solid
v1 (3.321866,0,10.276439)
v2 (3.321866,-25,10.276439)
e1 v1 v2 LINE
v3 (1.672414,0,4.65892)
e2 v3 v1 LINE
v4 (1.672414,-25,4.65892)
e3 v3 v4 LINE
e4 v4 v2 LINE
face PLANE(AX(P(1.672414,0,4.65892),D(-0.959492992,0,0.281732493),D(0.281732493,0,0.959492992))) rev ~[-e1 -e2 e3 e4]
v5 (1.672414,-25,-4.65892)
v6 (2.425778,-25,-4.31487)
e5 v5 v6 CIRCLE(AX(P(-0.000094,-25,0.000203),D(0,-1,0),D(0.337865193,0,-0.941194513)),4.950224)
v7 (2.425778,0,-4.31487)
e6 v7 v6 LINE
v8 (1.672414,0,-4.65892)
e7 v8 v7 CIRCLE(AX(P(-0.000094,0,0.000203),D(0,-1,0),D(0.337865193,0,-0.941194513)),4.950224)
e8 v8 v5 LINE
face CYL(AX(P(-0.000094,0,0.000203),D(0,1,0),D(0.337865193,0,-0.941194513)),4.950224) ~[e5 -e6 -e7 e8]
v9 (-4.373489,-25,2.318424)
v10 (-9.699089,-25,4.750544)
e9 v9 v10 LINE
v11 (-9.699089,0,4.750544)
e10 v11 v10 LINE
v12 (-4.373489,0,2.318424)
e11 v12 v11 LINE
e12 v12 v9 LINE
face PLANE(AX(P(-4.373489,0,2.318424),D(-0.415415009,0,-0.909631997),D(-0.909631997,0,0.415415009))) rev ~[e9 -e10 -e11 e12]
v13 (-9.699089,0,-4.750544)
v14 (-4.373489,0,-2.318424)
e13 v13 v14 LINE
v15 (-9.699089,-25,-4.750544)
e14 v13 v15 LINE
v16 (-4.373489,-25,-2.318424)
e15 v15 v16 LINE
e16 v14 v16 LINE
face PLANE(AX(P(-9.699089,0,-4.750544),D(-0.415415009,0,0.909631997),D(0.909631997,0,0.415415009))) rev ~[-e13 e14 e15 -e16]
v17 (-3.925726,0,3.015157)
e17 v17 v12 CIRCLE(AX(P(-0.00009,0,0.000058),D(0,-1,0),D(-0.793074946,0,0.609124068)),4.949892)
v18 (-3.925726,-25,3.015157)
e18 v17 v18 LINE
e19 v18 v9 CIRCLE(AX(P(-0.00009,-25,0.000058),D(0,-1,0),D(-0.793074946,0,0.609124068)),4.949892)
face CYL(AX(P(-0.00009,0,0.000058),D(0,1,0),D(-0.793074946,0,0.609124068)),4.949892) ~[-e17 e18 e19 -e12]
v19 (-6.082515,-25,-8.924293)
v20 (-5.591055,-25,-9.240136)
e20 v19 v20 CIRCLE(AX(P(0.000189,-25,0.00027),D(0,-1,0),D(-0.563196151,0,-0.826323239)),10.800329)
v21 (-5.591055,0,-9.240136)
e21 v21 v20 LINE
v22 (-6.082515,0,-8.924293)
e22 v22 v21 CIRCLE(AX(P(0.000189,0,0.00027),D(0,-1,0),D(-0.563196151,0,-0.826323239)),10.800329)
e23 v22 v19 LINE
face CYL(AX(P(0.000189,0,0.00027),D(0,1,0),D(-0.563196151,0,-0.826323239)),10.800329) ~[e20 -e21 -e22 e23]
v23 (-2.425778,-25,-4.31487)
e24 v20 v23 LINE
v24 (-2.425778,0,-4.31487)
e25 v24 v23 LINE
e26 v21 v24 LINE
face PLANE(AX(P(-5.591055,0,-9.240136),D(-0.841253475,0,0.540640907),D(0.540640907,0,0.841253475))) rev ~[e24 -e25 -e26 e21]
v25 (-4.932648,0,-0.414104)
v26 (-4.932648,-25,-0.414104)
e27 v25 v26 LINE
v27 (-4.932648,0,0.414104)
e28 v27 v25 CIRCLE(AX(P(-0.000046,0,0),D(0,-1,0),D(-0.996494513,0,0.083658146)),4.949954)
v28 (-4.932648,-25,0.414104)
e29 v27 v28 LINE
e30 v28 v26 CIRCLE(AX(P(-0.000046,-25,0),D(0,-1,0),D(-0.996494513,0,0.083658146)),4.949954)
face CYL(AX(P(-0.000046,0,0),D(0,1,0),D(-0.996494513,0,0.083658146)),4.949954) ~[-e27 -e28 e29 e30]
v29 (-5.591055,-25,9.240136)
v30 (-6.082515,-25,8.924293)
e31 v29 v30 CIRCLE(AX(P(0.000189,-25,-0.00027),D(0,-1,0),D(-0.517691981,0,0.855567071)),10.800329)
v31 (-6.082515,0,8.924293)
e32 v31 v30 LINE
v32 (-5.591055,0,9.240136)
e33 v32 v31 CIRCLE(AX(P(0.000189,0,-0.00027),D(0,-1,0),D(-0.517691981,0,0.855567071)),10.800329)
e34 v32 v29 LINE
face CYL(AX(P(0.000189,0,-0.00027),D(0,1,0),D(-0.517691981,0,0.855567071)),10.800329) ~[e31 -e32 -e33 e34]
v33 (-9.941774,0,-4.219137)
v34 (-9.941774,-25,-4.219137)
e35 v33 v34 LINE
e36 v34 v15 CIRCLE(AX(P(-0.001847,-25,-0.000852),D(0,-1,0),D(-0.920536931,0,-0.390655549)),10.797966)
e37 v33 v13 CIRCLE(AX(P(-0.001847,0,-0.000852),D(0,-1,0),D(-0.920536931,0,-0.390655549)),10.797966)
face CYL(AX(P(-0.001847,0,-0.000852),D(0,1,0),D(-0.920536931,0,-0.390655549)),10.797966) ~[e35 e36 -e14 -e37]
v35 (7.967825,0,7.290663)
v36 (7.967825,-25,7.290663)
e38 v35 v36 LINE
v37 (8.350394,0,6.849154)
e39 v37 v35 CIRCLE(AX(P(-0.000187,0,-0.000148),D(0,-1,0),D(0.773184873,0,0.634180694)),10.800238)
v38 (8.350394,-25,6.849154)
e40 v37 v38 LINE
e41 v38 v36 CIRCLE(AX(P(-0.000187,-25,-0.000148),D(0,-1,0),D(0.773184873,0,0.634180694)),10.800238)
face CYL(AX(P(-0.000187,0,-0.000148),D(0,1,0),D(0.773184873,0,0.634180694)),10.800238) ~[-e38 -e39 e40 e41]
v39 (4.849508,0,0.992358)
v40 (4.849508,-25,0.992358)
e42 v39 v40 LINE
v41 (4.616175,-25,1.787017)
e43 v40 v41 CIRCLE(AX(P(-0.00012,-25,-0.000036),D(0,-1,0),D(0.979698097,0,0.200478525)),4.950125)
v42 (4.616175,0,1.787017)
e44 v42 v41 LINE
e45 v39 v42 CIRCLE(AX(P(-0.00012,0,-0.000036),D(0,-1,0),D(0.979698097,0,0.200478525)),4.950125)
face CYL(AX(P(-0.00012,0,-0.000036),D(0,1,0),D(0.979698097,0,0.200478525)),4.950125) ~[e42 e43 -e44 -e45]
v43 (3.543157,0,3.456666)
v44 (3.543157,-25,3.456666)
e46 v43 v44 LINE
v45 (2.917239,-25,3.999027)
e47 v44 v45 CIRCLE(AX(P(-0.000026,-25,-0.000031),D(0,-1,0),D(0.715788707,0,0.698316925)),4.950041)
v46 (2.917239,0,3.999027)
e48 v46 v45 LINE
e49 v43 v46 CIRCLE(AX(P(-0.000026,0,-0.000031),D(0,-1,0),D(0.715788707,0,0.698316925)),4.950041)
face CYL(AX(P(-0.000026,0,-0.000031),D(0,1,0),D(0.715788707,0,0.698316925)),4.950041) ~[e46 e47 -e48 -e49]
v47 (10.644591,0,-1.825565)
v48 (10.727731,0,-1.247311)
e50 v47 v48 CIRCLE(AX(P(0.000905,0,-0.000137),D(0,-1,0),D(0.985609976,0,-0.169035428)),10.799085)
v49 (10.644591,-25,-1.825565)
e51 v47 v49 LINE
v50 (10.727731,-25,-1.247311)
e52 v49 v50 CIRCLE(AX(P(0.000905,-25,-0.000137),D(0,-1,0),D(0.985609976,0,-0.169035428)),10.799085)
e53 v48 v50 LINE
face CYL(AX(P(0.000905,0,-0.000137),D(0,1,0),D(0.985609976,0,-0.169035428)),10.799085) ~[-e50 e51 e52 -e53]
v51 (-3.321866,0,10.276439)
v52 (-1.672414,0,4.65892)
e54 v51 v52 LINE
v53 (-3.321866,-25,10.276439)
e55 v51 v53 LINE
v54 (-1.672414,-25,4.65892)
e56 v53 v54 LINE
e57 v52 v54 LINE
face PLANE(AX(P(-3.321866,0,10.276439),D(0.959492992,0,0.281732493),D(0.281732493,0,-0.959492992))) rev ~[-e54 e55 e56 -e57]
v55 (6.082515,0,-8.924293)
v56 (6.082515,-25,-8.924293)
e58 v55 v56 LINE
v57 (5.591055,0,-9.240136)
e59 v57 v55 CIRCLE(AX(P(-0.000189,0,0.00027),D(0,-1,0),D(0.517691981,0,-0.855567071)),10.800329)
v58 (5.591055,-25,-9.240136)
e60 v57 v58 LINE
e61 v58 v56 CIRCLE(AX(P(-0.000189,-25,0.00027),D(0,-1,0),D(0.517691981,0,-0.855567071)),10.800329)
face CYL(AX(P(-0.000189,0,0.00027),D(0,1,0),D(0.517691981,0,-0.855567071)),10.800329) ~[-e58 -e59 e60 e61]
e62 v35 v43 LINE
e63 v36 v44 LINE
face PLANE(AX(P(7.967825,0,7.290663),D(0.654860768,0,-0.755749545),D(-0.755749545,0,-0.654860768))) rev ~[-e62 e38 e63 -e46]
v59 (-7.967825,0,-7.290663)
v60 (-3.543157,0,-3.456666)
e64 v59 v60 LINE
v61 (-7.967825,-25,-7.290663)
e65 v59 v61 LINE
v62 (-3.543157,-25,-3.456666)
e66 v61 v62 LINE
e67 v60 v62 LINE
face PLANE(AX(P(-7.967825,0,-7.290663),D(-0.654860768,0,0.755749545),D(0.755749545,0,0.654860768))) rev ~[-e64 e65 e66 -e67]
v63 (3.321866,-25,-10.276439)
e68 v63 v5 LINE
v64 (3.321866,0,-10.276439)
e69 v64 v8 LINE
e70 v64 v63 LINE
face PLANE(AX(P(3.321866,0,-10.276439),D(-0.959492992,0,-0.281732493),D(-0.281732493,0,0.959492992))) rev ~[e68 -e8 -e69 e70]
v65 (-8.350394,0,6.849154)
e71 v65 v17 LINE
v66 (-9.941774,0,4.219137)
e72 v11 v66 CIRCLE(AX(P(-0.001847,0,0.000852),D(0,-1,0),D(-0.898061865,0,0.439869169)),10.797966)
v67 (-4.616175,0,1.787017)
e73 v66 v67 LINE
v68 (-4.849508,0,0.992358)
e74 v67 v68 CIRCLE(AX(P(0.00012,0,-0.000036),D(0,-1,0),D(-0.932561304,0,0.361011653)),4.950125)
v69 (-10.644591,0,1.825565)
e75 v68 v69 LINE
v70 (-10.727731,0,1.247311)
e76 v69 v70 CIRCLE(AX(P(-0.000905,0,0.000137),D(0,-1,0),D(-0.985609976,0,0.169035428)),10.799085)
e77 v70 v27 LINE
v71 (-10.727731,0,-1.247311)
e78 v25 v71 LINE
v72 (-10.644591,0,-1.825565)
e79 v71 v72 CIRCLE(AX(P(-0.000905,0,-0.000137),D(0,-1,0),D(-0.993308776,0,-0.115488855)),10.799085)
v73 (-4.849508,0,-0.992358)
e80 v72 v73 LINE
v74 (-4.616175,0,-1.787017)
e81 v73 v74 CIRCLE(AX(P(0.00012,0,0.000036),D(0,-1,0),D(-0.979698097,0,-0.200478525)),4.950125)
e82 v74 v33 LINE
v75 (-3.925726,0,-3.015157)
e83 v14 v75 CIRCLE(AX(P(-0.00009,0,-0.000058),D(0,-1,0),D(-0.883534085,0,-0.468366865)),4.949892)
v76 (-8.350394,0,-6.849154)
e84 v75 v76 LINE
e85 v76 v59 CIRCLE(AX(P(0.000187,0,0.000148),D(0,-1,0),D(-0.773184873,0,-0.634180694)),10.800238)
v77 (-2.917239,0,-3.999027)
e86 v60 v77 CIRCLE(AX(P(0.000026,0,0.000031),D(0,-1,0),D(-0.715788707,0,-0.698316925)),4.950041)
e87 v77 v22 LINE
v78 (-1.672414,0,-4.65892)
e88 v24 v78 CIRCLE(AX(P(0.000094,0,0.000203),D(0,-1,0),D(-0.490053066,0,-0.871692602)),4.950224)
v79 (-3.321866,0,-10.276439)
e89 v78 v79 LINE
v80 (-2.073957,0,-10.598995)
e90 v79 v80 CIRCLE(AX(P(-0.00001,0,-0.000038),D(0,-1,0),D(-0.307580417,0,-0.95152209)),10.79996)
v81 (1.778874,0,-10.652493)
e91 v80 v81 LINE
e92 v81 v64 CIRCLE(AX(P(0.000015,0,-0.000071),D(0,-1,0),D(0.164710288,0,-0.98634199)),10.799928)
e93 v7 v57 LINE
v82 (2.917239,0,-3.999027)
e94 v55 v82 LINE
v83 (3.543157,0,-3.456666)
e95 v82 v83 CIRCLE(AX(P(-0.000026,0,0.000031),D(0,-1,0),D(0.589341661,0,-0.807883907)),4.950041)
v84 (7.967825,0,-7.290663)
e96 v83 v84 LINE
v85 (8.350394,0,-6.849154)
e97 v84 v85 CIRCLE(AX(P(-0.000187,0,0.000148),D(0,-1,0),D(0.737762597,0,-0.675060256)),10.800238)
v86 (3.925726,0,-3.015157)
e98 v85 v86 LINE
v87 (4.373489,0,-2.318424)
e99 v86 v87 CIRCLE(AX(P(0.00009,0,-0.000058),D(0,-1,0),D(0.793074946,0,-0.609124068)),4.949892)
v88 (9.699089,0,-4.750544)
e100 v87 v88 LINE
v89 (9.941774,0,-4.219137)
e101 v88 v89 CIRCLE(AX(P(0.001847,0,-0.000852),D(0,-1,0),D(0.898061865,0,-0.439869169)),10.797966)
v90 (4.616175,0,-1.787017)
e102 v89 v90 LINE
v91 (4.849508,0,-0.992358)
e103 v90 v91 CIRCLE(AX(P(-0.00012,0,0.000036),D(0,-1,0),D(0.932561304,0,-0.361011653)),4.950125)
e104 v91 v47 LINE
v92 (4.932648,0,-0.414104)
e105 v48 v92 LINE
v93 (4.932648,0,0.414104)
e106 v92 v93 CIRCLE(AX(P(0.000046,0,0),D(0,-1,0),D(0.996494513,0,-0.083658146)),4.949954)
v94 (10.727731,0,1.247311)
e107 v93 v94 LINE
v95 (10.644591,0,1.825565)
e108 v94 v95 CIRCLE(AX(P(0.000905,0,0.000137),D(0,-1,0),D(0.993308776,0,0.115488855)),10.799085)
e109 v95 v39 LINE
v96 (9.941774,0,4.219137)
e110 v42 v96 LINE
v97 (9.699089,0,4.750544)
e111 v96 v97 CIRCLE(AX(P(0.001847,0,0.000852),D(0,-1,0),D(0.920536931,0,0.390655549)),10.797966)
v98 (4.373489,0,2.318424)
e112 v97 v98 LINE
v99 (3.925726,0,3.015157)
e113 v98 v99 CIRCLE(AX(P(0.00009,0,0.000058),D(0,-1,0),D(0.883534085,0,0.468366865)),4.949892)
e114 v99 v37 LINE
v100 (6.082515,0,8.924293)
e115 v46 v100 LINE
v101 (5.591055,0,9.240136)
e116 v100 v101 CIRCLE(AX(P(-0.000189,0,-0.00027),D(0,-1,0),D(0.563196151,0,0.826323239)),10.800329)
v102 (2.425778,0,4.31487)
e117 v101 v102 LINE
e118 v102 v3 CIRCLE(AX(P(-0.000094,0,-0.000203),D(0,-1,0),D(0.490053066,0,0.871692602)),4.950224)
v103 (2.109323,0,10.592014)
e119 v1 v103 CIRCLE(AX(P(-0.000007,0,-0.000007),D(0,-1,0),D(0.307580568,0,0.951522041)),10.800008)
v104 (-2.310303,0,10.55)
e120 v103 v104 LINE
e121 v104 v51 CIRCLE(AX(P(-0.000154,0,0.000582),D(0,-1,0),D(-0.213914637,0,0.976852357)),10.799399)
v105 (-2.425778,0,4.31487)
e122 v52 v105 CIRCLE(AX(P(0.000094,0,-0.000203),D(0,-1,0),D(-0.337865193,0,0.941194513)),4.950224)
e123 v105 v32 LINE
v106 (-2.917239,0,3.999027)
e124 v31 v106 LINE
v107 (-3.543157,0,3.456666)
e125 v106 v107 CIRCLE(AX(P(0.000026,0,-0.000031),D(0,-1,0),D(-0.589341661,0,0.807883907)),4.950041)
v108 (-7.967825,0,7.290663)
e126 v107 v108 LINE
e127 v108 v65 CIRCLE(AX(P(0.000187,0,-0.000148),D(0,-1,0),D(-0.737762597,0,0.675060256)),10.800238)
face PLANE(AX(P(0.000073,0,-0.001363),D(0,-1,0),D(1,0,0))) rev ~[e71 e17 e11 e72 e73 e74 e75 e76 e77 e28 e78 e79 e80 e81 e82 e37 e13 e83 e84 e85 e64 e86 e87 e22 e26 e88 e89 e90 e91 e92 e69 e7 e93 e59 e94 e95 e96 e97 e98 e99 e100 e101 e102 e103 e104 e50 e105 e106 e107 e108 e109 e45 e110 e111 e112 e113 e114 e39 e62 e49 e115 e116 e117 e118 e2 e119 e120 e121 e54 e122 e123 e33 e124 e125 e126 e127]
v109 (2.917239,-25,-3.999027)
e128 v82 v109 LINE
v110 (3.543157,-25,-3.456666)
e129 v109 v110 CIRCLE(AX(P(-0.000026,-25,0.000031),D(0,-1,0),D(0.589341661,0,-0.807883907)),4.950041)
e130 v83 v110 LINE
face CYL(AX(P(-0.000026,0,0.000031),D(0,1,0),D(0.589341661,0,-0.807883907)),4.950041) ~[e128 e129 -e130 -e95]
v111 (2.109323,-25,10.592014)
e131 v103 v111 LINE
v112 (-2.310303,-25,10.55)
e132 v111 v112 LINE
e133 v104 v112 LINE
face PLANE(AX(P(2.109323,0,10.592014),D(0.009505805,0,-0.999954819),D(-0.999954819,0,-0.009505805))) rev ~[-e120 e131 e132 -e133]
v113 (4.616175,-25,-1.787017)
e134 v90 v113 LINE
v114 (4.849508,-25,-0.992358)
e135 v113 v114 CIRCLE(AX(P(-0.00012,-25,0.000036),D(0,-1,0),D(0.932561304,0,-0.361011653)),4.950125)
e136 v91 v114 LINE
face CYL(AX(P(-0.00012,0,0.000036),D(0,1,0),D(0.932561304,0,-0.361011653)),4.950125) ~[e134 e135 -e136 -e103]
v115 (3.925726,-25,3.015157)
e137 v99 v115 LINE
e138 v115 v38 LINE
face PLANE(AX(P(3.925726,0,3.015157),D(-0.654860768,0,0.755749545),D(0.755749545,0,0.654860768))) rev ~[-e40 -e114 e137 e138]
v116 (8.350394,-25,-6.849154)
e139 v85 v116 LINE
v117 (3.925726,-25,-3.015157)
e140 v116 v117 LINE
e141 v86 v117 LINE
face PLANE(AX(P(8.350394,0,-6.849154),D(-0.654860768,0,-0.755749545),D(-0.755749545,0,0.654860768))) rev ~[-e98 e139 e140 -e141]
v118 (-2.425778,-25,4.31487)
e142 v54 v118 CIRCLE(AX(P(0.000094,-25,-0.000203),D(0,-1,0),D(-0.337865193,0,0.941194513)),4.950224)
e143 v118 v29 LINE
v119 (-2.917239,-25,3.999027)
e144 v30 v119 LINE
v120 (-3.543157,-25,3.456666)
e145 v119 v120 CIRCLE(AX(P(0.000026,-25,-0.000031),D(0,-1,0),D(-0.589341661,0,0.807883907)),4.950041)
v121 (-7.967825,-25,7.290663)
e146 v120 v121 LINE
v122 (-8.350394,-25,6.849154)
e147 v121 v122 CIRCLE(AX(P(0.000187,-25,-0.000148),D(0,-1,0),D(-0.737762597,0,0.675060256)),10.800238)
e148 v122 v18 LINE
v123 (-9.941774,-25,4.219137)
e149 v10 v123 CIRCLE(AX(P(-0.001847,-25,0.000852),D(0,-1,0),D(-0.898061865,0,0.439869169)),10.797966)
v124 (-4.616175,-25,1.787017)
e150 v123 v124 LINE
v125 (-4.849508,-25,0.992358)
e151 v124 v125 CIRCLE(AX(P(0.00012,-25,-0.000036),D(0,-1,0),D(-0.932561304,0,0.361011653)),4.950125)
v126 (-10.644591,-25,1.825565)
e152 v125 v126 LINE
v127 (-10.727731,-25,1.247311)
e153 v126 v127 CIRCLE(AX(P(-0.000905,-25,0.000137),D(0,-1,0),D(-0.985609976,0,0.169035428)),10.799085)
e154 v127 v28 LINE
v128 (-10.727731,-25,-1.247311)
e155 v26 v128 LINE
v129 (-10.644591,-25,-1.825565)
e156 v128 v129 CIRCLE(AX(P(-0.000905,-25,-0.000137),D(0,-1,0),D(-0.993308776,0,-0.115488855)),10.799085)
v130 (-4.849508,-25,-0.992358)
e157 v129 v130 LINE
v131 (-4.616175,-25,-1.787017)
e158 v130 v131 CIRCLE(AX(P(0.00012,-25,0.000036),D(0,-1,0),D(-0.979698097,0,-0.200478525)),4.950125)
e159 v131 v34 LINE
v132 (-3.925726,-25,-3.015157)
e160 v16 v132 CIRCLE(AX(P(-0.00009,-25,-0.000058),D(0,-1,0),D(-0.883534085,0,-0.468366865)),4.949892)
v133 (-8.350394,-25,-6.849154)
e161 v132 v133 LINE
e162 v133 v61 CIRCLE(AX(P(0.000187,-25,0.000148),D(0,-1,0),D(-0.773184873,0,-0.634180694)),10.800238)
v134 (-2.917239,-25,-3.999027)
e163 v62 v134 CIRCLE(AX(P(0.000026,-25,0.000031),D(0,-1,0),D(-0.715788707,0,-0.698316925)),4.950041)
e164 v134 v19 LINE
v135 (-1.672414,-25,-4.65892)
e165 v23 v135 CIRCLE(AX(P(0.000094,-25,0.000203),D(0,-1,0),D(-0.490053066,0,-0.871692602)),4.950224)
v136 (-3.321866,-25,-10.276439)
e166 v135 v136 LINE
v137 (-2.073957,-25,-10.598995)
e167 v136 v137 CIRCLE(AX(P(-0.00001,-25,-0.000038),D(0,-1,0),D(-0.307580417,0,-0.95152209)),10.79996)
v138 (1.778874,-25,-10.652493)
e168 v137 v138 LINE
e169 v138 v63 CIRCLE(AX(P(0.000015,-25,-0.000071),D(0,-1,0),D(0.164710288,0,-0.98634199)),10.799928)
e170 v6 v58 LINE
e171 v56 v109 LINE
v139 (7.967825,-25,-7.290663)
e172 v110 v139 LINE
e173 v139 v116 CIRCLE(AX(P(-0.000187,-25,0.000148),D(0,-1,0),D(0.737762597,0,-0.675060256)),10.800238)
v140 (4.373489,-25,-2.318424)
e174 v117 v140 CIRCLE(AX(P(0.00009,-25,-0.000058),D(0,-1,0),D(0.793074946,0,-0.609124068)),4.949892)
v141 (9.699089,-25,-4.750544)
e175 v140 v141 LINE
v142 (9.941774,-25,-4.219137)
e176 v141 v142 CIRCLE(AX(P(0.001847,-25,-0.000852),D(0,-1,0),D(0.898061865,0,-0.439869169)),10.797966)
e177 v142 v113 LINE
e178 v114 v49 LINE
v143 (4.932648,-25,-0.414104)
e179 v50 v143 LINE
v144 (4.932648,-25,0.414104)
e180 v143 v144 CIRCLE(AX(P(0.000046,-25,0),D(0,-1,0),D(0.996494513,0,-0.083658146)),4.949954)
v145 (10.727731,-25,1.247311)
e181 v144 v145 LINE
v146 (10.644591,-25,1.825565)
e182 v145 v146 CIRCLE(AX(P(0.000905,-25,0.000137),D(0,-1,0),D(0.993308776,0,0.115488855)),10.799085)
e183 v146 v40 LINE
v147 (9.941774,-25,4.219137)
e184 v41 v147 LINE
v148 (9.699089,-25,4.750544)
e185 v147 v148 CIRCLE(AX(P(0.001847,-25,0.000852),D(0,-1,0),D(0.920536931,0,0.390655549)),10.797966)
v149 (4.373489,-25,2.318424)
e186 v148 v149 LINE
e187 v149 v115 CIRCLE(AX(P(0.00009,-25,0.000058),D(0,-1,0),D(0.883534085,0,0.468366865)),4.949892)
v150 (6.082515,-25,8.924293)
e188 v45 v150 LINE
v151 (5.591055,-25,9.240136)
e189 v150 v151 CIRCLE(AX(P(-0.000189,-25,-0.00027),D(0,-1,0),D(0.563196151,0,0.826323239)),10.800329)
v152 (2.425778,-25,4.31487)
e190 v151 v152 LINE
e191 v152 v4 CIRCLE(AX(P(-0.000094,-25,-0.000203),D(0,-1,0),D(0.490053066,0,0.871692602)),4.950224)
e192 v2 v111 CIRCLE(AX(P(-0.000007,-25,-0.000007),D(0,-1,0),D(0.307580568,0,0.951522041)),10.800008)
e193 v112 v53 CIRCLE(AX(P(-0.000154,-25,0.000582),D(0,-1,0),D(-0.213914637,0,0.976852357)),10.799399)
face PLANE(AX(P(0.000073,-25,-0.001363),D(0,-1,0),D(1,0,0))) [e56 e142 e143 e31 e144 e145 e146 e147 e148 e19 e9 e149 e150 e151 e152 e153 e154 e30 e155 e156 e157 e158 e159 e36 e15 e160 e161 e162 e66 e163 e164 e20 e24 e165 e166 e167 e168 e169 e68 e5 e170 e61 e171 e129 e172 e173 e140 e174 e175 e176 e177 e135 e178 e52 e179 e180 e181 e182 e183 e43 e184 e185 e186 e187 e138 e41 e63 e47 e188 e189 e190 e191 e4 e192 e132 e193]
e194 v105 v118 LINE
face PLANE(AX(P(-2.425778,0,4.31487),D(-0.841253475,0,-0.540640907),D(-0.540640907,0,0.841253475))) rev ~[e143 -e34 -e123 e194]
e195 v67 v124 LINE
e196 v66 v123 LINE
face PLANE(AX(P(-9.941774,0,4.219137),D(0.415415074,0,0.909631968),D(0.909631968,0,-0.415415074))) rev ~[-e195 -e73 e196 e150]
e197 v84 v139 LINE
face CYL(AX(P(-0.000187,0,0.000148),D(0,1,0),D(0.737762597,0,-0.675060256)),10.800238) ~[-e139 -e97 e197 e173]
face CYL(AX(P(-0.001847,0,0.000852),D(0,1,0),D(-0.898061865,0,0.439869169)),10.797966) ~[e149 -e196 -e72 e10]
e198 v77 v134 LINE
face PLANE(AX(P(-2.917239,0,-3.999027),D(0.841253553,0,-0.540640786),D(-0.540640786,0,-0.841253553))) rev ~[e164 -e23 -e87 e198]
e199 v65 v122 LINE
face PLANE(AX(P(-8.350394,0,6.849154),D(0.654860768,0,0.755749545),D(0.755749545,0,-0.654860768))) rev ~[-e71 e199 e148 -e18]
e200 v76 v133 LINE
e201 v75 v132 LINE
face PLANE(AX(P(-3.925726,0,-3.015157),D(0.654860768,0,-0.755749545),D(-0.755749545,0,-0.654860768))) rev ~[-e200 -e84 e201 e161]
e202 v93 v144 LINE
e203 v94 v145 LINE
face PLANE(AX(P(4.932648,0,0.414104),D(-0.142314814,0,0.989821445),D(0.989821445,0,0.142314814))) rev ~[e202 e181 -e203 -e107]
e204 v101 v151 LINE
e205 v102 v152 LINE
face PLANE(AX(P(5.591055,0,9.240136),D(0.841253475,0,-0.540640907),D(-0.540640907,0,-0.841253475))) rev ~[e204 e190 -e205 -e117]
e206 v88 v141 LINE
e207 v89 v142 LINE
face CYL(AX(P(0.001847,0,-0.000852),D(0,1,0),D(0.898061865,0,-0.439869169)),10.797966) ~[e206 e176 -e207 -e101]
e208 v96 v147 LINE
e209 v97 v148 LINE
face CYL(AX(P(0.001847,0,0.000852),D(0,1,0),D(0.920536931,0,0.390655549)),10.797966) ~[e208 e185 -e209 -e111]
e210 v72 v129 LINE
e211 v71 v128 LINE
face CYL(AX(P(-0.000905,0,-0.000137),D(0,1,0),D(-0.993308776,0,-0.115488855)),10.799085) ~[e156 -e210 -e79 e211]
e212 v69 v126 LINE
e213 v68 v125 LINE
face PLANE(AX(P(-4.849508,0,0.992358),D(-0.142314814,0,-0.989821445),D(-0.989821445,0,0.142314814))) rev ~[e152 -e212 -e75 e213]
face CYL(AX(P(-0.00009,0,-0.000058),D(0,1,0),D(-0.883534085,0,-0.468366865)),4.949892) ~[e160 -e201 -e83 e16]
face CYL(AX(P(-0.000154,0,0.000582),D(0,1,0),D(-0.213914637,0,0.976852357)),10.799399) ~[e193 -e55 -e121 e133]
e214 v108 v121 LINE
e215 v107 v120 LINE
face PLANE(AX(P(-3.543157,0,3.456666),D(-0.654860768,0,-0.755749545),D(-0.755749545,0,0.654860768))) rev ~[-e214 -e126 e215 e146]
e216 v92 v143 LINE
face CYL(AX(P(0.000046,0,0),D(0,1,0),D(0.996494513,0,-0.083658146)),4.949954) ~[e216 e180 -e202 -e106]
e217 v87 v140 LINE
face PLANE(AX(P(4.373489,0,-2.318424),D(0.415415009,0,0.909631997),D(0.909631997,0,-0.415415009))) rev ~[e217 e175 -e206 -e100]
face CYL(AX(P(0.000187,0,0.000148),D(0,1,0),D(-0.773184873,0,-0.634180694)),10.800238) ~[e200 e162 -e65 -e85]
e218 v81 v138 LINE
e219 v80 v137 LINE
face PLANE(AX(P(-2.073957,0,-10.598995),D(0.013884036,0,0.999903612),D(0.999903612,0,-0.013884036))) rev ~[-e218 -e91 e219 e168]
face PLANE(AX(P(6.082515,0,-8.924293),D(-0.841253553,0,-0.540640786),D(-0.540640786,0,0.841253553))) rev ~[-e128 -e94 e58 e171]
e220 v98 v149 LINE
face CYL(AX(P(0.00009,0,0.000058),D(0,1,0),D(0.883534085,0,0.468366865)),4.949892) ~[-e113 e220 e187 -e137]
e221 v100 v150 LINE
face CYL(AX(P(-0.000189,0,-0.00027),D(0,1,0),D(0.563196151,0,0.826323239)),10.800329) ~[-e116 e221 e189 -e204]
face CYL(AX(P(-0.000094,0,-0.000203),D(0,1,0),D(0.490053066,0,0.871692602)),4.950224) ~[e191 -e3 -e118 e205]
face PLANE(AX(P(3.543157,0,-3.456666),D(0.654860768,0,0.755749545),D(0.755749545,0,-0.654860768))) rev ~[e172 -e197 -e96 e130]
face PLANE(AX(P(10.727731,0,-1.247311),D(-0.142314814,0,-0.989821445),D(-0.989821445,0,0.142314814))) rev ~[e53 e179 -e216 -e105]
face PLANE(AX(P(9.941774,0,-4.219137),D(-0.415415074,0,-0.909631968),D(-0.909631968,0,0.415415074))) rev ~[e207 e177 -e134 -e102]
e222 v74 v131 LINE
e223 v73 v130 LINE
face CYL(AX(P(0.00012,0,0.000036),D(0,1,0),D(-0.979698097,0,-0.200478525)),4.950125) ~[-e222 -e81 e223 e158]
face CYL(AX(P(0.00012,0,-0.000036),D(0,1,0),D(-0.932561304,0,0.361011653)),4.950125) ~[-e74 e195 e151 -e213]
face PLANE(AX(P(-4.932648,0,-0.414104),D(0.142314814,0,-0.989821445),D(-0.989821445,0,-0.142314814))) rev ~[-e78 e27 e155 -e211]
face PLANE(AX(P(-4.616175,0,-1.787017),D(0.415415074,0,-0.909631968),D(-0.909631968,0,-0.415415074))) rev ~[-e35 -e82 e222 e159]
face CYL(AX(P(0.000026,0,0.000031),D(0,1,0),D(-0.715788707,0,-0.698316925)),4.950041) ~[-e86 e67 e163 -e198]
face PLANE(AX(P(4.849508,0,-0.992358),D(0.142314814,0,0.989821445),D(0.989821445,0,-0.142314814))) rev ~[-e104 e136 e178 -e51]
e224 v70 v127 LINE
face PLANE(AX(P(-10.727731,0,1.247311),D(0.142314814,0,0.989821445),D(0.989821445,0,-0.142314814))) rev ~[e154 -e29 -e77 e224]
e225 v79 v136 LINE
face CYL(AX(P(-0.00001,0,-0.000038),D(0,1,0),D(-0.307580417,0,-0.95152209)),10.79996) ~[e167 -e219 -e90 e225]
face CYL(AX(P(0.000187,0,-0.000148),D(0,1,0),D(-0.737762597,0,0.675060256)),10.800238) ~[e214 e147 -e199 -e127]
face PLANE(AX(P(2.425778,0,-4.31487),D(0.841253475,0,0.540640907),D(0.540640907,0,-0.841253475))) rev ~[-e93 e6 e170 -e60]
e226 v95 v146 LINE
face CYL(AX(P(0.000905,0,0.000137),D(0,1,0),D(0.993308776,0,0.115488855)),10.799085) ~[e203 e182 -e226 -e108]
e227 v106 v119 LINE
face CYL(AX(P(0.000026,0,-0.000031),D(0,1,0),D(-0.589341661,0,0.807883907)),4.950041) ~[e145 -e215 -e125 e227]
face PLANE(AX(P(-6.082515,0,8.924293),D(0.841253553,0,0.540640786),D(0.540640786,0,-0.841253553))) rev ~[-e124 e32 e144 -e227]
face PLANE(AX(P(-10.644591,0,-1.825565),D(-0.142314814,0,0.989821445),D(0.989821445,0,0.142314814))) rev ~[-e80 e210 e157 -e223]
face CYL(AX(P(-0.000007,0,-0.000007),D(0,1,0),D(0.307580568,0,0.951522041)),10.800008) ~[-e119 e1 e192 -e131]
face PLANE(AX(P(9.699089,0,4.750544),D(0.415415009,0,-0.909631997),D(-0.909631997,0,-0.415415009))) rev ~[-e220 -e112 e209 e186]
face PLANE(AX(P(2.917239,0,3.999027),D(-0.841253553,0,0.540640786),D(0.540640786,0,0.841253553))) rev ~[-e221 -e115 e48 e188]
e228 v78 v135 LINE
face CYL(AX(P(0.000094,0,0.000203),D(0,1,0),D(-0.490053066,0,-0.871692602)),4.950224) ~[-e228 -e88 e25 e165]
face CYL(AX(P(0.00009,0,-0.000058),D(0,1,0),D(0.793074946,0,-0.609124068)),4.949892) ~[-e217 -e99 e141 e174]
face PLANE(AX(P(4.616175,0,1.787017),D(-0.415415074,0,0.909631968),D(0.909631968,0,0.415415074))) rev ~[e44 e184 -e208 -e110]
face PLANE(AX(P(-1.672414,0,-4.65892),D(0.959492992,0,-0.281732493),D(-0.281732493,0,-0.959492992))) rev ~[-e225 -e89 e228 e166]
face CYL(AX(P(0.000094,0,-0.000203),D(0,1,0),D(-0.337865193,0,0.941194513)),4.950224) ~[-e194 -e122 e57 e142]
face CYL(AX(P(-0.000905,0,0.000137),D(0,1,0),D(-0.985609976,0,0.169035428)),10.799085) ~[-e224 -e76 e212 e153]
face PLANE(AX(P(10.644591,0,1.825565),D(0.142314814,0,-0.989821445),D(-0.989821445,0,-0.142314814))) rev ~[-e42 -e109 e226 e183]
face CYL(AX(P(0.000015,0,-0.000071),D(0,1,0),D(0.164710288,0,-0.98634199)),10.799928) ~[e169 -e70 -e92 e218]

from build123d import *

# Parameters (mm, degrees)
F1_DEPTH = 25


with BuildPart() as f1:
    # F0 (on Front) → F1 (new body)
    with BuildSketch(Plane.XZ):
        with BuildLine():
            Line((-2.425778, 4.31487), (-5.591055, 9.240136))
            ThreePointArc((-5.591055, 9.240136), (-5.838921, 9.085538), (-6.082515, 8.924293))
            Line((-6.082515, 8.924293), (-2.917239, 3.999027))
            ThreePointArc((-2.917239, 3.999027), (-3.241561, 3.74096), (-3.543157, 3.456666))
            Line((-3.543157, 3.456666), (-7.967825, 7.290663))
            ThreePointArc((-7.967825, 7.290663), (-8.162095, 7.072496), (-8.350394, 6.849154))
            Line((-8.350394, 6.849154), (-3.925726, 3.015157))
            ThreePointArc((-3.925726, 3.015157), (-4.164205, 2.676172), (-4.373489, 2.318424))
            Line((-4.373489, 2.318424), (-9.699089, 4.750544))
            ThreePointArc((-9.699089, 4.750544), (-9.824026, 4.486482), (-9.941774, 4.219137))
            Line((-9.941774, 4.219137), (-4.616175, 1.787017))
            ThreePointArc((-4.616175, 1.787017), (-4.74949, 1.394576), (-4.849508, 0.992358))
            Line((-4.849508, 0.992358), (-10.644591, 1.825565))
            ThreePointArc((-10.644591, 1.825565), (-10.690072, 1.537), (-10.727731, 1.247311))
            Line((-10.727731, 1.247311), (-4.932648, 0.414104))
            ThreePointArc((-4.932648, 0.414104), (-4.95, 0), (-4.932648, -0.414104))
            Line((-4.932648, -0.414104), (-10.727731, -1.247311))
            ThreePointArc((-10.727731, -1.247311), (-10.690072, -1.537), (-10.644591, -1.825565))
            Line((-10.644591, -1.825565), (-4.849508, -0.992358))
            ThreePointArc((-4.849508, -0.992358), (-4.74949, -1.394576), (-4.616175, -1.787017))
            Line((-4.616175, -1.787017), (-9.941774, -4.219137))
            ThreePointArc((-9.941774, -4.219137), (-9.824026, -4.486482), (-9.699089, -4.750544))
            Line((-9.699089, -4.750544), (-4.373489, -2.318424))
            ThreePointArc((-4.373489, -2.318424), (-4.164205, -2.676172), (-3.925726, -3.015157))
            Line((-3.925726, -3.015157), (-8.350394, -6.849154))
            ThreePointArc((-8.350394, -6.849154), (-8.162095, -7.072496), (-7.967825, -7.290663))
            Line((-7.967825, -7.290663), (-3.543157, -3.456666))
            ThreePointArc((-3.543157, -3.456666), (-3.241561, -3.74096), (-2.917239, -3.999027))
            Line((-2.917239, -3.999027), (-6.082515, -8.924293))
            ThreePointArc((-6.082515, -8.924293), (-5.838921, -9.085538), (-5.591055, -9.240136))
            Line((-5.591055, -9.240136), (-2.425778, -4.31487))
            ThreePointArc((-2.425778, -4.31487), (-2.056304, -4.502678), (-1.672414, -4.65892))
            Line((-1.672414, -4.65892), (-3.321866, -10.276439))
            ThreePointArc((-3.321866, -10.276439), (-2.702728, -10.45635), (-2.073957, -10.598995))
            Line((-2.073957, -10.598995), (1.778874, -10.652493))
            ThreePointArc((1.778874, -10.652493), (2.557292, -10.492867), (3.321866, -10.276439))
            Line((3.321866, -10.276439), (1.672414, -4.65892))
            ThreePointArc((1.672414, -4.65892), (2.056304, -4.502678), (2.425778, -4.31487))
            Line((2.425778, -4.31487), (5.591055, -9.240136))
            ThreePointArc((5.591055, -9.240136), (5.838921, -9.085538), (6.082515, -8.924293))
            Line((6.082515, -8.924293), (2.917239, -3.999027))
            ThreePointArc((2.917239, -3.999027), (3.241561, -3.74096), (3.543157, -3.456666))
            Line((3.543157, -3.456666), (7.967825, -7.290663))
            ThreePointArc((7.967825, -7.290663), (8.162095, -7.072496), (8.350394, -6.849154))
            Line((8.350394, -6.849154), (3.925726, -3.015157))
            ThreePointArc((3.925726, -3.015157), (4.164205, -2.676172), (4.373489, -2.318424))
            Line((4.373489, -2.318424), (9.699089, -4.750544))
            ThreePointArc((9.699089, -4.750544), (9.824026, -4.486482), (9.941774, -4.219137))
            Line((9.941774, -4.219137), (4.616175, -1.787017))
            ThreePointArc((4.616175, -1.787017), (4.74949, -1.394576), (4.849508, -0.992358))
            Line((4.849508, -0.992358), (10.644591, -1.825565))
            ThreePointArc((10.644591, -1.825565), (10.690072, -1.537), (10.727731, -1.247311))
            Line((10.727731, -1.247311), (4.932648, -0.414104))
            ThreePointArc((4.932648, -0.414104), (4.95, 0), (4.932648, 0.414104))
            Line((4.932648, 0.414104), (10.727731, 1.247311))
            ThreePointArc((10.727731, 1.247311), (10.690072, 1.537), (10.644591, 1.825565))
            Line((10.644591, 1.825565), (4.849508, 0.992358))
            ThreePointArc((4.849508, 0.992358), (4.74949, 1.394576), (4.616175, 1.787017))
            Line((4.616175, 1.787017), (9.941774, 4.219137))
            ThreePointArc((9.941774, 4.219137), (9.824026, 4.486482), (9.699089, 4.750544))
            Line((9.699089, 4.750544), (4.373489, 2.318424))
            ThreePointArc((4.373489, 2.318424), (4.164205, 2.676172), (3.925726, 3.015157))
            Line((3.925726, 3.015157), (8.350394, 6.849154))
            ThreePointArc((8.350394, 6.849154), (8.162095, 7.072496), (7.967825, 7.290663))
            Line((7.967825, 7.290663), (3.543157, 3.456666))
            ThreePointArc((3.543157, 3.456666), (3.241561, 3.74096), (2.917239, 3.999027))
            Line((2.917239, 3.999027), (6.082515, 8.924293))
            ThreePointArc((6.082515, 8.924293), (5.838921, 9.085538), (5.591055, 9.240136))
            Line((5.591055, 9.240136), (2.425778, 4.31487))
            ThreePointArc((2.425778, 4.31487), (2.056304, 4.502678), (1.672414, 4.65892))
            Line((1.672414, 4.65892), (3.321866, 10.276439))
            ThreePointArc((3.321866, 10.276439), (2.720175, 10.451825), (2.109323, 10.592014))
            Line((2.109323, 10.592014), (-2.310303, 10.55))
            ThreePointArc((-2.310303, 10.55), (-2.819405, 10.425496), (-3.321866, 10.276439))
            Line((-3.321866, 10.276439), (-1.672414, 4.65892))
            ThreePointArc((-1.672414, 4.65892), (-2.056304, 4.502678), (-2.425778, 4.31487))
        make_face()
    extrude(amount=F1_DEPTH)


solid = f1.part
